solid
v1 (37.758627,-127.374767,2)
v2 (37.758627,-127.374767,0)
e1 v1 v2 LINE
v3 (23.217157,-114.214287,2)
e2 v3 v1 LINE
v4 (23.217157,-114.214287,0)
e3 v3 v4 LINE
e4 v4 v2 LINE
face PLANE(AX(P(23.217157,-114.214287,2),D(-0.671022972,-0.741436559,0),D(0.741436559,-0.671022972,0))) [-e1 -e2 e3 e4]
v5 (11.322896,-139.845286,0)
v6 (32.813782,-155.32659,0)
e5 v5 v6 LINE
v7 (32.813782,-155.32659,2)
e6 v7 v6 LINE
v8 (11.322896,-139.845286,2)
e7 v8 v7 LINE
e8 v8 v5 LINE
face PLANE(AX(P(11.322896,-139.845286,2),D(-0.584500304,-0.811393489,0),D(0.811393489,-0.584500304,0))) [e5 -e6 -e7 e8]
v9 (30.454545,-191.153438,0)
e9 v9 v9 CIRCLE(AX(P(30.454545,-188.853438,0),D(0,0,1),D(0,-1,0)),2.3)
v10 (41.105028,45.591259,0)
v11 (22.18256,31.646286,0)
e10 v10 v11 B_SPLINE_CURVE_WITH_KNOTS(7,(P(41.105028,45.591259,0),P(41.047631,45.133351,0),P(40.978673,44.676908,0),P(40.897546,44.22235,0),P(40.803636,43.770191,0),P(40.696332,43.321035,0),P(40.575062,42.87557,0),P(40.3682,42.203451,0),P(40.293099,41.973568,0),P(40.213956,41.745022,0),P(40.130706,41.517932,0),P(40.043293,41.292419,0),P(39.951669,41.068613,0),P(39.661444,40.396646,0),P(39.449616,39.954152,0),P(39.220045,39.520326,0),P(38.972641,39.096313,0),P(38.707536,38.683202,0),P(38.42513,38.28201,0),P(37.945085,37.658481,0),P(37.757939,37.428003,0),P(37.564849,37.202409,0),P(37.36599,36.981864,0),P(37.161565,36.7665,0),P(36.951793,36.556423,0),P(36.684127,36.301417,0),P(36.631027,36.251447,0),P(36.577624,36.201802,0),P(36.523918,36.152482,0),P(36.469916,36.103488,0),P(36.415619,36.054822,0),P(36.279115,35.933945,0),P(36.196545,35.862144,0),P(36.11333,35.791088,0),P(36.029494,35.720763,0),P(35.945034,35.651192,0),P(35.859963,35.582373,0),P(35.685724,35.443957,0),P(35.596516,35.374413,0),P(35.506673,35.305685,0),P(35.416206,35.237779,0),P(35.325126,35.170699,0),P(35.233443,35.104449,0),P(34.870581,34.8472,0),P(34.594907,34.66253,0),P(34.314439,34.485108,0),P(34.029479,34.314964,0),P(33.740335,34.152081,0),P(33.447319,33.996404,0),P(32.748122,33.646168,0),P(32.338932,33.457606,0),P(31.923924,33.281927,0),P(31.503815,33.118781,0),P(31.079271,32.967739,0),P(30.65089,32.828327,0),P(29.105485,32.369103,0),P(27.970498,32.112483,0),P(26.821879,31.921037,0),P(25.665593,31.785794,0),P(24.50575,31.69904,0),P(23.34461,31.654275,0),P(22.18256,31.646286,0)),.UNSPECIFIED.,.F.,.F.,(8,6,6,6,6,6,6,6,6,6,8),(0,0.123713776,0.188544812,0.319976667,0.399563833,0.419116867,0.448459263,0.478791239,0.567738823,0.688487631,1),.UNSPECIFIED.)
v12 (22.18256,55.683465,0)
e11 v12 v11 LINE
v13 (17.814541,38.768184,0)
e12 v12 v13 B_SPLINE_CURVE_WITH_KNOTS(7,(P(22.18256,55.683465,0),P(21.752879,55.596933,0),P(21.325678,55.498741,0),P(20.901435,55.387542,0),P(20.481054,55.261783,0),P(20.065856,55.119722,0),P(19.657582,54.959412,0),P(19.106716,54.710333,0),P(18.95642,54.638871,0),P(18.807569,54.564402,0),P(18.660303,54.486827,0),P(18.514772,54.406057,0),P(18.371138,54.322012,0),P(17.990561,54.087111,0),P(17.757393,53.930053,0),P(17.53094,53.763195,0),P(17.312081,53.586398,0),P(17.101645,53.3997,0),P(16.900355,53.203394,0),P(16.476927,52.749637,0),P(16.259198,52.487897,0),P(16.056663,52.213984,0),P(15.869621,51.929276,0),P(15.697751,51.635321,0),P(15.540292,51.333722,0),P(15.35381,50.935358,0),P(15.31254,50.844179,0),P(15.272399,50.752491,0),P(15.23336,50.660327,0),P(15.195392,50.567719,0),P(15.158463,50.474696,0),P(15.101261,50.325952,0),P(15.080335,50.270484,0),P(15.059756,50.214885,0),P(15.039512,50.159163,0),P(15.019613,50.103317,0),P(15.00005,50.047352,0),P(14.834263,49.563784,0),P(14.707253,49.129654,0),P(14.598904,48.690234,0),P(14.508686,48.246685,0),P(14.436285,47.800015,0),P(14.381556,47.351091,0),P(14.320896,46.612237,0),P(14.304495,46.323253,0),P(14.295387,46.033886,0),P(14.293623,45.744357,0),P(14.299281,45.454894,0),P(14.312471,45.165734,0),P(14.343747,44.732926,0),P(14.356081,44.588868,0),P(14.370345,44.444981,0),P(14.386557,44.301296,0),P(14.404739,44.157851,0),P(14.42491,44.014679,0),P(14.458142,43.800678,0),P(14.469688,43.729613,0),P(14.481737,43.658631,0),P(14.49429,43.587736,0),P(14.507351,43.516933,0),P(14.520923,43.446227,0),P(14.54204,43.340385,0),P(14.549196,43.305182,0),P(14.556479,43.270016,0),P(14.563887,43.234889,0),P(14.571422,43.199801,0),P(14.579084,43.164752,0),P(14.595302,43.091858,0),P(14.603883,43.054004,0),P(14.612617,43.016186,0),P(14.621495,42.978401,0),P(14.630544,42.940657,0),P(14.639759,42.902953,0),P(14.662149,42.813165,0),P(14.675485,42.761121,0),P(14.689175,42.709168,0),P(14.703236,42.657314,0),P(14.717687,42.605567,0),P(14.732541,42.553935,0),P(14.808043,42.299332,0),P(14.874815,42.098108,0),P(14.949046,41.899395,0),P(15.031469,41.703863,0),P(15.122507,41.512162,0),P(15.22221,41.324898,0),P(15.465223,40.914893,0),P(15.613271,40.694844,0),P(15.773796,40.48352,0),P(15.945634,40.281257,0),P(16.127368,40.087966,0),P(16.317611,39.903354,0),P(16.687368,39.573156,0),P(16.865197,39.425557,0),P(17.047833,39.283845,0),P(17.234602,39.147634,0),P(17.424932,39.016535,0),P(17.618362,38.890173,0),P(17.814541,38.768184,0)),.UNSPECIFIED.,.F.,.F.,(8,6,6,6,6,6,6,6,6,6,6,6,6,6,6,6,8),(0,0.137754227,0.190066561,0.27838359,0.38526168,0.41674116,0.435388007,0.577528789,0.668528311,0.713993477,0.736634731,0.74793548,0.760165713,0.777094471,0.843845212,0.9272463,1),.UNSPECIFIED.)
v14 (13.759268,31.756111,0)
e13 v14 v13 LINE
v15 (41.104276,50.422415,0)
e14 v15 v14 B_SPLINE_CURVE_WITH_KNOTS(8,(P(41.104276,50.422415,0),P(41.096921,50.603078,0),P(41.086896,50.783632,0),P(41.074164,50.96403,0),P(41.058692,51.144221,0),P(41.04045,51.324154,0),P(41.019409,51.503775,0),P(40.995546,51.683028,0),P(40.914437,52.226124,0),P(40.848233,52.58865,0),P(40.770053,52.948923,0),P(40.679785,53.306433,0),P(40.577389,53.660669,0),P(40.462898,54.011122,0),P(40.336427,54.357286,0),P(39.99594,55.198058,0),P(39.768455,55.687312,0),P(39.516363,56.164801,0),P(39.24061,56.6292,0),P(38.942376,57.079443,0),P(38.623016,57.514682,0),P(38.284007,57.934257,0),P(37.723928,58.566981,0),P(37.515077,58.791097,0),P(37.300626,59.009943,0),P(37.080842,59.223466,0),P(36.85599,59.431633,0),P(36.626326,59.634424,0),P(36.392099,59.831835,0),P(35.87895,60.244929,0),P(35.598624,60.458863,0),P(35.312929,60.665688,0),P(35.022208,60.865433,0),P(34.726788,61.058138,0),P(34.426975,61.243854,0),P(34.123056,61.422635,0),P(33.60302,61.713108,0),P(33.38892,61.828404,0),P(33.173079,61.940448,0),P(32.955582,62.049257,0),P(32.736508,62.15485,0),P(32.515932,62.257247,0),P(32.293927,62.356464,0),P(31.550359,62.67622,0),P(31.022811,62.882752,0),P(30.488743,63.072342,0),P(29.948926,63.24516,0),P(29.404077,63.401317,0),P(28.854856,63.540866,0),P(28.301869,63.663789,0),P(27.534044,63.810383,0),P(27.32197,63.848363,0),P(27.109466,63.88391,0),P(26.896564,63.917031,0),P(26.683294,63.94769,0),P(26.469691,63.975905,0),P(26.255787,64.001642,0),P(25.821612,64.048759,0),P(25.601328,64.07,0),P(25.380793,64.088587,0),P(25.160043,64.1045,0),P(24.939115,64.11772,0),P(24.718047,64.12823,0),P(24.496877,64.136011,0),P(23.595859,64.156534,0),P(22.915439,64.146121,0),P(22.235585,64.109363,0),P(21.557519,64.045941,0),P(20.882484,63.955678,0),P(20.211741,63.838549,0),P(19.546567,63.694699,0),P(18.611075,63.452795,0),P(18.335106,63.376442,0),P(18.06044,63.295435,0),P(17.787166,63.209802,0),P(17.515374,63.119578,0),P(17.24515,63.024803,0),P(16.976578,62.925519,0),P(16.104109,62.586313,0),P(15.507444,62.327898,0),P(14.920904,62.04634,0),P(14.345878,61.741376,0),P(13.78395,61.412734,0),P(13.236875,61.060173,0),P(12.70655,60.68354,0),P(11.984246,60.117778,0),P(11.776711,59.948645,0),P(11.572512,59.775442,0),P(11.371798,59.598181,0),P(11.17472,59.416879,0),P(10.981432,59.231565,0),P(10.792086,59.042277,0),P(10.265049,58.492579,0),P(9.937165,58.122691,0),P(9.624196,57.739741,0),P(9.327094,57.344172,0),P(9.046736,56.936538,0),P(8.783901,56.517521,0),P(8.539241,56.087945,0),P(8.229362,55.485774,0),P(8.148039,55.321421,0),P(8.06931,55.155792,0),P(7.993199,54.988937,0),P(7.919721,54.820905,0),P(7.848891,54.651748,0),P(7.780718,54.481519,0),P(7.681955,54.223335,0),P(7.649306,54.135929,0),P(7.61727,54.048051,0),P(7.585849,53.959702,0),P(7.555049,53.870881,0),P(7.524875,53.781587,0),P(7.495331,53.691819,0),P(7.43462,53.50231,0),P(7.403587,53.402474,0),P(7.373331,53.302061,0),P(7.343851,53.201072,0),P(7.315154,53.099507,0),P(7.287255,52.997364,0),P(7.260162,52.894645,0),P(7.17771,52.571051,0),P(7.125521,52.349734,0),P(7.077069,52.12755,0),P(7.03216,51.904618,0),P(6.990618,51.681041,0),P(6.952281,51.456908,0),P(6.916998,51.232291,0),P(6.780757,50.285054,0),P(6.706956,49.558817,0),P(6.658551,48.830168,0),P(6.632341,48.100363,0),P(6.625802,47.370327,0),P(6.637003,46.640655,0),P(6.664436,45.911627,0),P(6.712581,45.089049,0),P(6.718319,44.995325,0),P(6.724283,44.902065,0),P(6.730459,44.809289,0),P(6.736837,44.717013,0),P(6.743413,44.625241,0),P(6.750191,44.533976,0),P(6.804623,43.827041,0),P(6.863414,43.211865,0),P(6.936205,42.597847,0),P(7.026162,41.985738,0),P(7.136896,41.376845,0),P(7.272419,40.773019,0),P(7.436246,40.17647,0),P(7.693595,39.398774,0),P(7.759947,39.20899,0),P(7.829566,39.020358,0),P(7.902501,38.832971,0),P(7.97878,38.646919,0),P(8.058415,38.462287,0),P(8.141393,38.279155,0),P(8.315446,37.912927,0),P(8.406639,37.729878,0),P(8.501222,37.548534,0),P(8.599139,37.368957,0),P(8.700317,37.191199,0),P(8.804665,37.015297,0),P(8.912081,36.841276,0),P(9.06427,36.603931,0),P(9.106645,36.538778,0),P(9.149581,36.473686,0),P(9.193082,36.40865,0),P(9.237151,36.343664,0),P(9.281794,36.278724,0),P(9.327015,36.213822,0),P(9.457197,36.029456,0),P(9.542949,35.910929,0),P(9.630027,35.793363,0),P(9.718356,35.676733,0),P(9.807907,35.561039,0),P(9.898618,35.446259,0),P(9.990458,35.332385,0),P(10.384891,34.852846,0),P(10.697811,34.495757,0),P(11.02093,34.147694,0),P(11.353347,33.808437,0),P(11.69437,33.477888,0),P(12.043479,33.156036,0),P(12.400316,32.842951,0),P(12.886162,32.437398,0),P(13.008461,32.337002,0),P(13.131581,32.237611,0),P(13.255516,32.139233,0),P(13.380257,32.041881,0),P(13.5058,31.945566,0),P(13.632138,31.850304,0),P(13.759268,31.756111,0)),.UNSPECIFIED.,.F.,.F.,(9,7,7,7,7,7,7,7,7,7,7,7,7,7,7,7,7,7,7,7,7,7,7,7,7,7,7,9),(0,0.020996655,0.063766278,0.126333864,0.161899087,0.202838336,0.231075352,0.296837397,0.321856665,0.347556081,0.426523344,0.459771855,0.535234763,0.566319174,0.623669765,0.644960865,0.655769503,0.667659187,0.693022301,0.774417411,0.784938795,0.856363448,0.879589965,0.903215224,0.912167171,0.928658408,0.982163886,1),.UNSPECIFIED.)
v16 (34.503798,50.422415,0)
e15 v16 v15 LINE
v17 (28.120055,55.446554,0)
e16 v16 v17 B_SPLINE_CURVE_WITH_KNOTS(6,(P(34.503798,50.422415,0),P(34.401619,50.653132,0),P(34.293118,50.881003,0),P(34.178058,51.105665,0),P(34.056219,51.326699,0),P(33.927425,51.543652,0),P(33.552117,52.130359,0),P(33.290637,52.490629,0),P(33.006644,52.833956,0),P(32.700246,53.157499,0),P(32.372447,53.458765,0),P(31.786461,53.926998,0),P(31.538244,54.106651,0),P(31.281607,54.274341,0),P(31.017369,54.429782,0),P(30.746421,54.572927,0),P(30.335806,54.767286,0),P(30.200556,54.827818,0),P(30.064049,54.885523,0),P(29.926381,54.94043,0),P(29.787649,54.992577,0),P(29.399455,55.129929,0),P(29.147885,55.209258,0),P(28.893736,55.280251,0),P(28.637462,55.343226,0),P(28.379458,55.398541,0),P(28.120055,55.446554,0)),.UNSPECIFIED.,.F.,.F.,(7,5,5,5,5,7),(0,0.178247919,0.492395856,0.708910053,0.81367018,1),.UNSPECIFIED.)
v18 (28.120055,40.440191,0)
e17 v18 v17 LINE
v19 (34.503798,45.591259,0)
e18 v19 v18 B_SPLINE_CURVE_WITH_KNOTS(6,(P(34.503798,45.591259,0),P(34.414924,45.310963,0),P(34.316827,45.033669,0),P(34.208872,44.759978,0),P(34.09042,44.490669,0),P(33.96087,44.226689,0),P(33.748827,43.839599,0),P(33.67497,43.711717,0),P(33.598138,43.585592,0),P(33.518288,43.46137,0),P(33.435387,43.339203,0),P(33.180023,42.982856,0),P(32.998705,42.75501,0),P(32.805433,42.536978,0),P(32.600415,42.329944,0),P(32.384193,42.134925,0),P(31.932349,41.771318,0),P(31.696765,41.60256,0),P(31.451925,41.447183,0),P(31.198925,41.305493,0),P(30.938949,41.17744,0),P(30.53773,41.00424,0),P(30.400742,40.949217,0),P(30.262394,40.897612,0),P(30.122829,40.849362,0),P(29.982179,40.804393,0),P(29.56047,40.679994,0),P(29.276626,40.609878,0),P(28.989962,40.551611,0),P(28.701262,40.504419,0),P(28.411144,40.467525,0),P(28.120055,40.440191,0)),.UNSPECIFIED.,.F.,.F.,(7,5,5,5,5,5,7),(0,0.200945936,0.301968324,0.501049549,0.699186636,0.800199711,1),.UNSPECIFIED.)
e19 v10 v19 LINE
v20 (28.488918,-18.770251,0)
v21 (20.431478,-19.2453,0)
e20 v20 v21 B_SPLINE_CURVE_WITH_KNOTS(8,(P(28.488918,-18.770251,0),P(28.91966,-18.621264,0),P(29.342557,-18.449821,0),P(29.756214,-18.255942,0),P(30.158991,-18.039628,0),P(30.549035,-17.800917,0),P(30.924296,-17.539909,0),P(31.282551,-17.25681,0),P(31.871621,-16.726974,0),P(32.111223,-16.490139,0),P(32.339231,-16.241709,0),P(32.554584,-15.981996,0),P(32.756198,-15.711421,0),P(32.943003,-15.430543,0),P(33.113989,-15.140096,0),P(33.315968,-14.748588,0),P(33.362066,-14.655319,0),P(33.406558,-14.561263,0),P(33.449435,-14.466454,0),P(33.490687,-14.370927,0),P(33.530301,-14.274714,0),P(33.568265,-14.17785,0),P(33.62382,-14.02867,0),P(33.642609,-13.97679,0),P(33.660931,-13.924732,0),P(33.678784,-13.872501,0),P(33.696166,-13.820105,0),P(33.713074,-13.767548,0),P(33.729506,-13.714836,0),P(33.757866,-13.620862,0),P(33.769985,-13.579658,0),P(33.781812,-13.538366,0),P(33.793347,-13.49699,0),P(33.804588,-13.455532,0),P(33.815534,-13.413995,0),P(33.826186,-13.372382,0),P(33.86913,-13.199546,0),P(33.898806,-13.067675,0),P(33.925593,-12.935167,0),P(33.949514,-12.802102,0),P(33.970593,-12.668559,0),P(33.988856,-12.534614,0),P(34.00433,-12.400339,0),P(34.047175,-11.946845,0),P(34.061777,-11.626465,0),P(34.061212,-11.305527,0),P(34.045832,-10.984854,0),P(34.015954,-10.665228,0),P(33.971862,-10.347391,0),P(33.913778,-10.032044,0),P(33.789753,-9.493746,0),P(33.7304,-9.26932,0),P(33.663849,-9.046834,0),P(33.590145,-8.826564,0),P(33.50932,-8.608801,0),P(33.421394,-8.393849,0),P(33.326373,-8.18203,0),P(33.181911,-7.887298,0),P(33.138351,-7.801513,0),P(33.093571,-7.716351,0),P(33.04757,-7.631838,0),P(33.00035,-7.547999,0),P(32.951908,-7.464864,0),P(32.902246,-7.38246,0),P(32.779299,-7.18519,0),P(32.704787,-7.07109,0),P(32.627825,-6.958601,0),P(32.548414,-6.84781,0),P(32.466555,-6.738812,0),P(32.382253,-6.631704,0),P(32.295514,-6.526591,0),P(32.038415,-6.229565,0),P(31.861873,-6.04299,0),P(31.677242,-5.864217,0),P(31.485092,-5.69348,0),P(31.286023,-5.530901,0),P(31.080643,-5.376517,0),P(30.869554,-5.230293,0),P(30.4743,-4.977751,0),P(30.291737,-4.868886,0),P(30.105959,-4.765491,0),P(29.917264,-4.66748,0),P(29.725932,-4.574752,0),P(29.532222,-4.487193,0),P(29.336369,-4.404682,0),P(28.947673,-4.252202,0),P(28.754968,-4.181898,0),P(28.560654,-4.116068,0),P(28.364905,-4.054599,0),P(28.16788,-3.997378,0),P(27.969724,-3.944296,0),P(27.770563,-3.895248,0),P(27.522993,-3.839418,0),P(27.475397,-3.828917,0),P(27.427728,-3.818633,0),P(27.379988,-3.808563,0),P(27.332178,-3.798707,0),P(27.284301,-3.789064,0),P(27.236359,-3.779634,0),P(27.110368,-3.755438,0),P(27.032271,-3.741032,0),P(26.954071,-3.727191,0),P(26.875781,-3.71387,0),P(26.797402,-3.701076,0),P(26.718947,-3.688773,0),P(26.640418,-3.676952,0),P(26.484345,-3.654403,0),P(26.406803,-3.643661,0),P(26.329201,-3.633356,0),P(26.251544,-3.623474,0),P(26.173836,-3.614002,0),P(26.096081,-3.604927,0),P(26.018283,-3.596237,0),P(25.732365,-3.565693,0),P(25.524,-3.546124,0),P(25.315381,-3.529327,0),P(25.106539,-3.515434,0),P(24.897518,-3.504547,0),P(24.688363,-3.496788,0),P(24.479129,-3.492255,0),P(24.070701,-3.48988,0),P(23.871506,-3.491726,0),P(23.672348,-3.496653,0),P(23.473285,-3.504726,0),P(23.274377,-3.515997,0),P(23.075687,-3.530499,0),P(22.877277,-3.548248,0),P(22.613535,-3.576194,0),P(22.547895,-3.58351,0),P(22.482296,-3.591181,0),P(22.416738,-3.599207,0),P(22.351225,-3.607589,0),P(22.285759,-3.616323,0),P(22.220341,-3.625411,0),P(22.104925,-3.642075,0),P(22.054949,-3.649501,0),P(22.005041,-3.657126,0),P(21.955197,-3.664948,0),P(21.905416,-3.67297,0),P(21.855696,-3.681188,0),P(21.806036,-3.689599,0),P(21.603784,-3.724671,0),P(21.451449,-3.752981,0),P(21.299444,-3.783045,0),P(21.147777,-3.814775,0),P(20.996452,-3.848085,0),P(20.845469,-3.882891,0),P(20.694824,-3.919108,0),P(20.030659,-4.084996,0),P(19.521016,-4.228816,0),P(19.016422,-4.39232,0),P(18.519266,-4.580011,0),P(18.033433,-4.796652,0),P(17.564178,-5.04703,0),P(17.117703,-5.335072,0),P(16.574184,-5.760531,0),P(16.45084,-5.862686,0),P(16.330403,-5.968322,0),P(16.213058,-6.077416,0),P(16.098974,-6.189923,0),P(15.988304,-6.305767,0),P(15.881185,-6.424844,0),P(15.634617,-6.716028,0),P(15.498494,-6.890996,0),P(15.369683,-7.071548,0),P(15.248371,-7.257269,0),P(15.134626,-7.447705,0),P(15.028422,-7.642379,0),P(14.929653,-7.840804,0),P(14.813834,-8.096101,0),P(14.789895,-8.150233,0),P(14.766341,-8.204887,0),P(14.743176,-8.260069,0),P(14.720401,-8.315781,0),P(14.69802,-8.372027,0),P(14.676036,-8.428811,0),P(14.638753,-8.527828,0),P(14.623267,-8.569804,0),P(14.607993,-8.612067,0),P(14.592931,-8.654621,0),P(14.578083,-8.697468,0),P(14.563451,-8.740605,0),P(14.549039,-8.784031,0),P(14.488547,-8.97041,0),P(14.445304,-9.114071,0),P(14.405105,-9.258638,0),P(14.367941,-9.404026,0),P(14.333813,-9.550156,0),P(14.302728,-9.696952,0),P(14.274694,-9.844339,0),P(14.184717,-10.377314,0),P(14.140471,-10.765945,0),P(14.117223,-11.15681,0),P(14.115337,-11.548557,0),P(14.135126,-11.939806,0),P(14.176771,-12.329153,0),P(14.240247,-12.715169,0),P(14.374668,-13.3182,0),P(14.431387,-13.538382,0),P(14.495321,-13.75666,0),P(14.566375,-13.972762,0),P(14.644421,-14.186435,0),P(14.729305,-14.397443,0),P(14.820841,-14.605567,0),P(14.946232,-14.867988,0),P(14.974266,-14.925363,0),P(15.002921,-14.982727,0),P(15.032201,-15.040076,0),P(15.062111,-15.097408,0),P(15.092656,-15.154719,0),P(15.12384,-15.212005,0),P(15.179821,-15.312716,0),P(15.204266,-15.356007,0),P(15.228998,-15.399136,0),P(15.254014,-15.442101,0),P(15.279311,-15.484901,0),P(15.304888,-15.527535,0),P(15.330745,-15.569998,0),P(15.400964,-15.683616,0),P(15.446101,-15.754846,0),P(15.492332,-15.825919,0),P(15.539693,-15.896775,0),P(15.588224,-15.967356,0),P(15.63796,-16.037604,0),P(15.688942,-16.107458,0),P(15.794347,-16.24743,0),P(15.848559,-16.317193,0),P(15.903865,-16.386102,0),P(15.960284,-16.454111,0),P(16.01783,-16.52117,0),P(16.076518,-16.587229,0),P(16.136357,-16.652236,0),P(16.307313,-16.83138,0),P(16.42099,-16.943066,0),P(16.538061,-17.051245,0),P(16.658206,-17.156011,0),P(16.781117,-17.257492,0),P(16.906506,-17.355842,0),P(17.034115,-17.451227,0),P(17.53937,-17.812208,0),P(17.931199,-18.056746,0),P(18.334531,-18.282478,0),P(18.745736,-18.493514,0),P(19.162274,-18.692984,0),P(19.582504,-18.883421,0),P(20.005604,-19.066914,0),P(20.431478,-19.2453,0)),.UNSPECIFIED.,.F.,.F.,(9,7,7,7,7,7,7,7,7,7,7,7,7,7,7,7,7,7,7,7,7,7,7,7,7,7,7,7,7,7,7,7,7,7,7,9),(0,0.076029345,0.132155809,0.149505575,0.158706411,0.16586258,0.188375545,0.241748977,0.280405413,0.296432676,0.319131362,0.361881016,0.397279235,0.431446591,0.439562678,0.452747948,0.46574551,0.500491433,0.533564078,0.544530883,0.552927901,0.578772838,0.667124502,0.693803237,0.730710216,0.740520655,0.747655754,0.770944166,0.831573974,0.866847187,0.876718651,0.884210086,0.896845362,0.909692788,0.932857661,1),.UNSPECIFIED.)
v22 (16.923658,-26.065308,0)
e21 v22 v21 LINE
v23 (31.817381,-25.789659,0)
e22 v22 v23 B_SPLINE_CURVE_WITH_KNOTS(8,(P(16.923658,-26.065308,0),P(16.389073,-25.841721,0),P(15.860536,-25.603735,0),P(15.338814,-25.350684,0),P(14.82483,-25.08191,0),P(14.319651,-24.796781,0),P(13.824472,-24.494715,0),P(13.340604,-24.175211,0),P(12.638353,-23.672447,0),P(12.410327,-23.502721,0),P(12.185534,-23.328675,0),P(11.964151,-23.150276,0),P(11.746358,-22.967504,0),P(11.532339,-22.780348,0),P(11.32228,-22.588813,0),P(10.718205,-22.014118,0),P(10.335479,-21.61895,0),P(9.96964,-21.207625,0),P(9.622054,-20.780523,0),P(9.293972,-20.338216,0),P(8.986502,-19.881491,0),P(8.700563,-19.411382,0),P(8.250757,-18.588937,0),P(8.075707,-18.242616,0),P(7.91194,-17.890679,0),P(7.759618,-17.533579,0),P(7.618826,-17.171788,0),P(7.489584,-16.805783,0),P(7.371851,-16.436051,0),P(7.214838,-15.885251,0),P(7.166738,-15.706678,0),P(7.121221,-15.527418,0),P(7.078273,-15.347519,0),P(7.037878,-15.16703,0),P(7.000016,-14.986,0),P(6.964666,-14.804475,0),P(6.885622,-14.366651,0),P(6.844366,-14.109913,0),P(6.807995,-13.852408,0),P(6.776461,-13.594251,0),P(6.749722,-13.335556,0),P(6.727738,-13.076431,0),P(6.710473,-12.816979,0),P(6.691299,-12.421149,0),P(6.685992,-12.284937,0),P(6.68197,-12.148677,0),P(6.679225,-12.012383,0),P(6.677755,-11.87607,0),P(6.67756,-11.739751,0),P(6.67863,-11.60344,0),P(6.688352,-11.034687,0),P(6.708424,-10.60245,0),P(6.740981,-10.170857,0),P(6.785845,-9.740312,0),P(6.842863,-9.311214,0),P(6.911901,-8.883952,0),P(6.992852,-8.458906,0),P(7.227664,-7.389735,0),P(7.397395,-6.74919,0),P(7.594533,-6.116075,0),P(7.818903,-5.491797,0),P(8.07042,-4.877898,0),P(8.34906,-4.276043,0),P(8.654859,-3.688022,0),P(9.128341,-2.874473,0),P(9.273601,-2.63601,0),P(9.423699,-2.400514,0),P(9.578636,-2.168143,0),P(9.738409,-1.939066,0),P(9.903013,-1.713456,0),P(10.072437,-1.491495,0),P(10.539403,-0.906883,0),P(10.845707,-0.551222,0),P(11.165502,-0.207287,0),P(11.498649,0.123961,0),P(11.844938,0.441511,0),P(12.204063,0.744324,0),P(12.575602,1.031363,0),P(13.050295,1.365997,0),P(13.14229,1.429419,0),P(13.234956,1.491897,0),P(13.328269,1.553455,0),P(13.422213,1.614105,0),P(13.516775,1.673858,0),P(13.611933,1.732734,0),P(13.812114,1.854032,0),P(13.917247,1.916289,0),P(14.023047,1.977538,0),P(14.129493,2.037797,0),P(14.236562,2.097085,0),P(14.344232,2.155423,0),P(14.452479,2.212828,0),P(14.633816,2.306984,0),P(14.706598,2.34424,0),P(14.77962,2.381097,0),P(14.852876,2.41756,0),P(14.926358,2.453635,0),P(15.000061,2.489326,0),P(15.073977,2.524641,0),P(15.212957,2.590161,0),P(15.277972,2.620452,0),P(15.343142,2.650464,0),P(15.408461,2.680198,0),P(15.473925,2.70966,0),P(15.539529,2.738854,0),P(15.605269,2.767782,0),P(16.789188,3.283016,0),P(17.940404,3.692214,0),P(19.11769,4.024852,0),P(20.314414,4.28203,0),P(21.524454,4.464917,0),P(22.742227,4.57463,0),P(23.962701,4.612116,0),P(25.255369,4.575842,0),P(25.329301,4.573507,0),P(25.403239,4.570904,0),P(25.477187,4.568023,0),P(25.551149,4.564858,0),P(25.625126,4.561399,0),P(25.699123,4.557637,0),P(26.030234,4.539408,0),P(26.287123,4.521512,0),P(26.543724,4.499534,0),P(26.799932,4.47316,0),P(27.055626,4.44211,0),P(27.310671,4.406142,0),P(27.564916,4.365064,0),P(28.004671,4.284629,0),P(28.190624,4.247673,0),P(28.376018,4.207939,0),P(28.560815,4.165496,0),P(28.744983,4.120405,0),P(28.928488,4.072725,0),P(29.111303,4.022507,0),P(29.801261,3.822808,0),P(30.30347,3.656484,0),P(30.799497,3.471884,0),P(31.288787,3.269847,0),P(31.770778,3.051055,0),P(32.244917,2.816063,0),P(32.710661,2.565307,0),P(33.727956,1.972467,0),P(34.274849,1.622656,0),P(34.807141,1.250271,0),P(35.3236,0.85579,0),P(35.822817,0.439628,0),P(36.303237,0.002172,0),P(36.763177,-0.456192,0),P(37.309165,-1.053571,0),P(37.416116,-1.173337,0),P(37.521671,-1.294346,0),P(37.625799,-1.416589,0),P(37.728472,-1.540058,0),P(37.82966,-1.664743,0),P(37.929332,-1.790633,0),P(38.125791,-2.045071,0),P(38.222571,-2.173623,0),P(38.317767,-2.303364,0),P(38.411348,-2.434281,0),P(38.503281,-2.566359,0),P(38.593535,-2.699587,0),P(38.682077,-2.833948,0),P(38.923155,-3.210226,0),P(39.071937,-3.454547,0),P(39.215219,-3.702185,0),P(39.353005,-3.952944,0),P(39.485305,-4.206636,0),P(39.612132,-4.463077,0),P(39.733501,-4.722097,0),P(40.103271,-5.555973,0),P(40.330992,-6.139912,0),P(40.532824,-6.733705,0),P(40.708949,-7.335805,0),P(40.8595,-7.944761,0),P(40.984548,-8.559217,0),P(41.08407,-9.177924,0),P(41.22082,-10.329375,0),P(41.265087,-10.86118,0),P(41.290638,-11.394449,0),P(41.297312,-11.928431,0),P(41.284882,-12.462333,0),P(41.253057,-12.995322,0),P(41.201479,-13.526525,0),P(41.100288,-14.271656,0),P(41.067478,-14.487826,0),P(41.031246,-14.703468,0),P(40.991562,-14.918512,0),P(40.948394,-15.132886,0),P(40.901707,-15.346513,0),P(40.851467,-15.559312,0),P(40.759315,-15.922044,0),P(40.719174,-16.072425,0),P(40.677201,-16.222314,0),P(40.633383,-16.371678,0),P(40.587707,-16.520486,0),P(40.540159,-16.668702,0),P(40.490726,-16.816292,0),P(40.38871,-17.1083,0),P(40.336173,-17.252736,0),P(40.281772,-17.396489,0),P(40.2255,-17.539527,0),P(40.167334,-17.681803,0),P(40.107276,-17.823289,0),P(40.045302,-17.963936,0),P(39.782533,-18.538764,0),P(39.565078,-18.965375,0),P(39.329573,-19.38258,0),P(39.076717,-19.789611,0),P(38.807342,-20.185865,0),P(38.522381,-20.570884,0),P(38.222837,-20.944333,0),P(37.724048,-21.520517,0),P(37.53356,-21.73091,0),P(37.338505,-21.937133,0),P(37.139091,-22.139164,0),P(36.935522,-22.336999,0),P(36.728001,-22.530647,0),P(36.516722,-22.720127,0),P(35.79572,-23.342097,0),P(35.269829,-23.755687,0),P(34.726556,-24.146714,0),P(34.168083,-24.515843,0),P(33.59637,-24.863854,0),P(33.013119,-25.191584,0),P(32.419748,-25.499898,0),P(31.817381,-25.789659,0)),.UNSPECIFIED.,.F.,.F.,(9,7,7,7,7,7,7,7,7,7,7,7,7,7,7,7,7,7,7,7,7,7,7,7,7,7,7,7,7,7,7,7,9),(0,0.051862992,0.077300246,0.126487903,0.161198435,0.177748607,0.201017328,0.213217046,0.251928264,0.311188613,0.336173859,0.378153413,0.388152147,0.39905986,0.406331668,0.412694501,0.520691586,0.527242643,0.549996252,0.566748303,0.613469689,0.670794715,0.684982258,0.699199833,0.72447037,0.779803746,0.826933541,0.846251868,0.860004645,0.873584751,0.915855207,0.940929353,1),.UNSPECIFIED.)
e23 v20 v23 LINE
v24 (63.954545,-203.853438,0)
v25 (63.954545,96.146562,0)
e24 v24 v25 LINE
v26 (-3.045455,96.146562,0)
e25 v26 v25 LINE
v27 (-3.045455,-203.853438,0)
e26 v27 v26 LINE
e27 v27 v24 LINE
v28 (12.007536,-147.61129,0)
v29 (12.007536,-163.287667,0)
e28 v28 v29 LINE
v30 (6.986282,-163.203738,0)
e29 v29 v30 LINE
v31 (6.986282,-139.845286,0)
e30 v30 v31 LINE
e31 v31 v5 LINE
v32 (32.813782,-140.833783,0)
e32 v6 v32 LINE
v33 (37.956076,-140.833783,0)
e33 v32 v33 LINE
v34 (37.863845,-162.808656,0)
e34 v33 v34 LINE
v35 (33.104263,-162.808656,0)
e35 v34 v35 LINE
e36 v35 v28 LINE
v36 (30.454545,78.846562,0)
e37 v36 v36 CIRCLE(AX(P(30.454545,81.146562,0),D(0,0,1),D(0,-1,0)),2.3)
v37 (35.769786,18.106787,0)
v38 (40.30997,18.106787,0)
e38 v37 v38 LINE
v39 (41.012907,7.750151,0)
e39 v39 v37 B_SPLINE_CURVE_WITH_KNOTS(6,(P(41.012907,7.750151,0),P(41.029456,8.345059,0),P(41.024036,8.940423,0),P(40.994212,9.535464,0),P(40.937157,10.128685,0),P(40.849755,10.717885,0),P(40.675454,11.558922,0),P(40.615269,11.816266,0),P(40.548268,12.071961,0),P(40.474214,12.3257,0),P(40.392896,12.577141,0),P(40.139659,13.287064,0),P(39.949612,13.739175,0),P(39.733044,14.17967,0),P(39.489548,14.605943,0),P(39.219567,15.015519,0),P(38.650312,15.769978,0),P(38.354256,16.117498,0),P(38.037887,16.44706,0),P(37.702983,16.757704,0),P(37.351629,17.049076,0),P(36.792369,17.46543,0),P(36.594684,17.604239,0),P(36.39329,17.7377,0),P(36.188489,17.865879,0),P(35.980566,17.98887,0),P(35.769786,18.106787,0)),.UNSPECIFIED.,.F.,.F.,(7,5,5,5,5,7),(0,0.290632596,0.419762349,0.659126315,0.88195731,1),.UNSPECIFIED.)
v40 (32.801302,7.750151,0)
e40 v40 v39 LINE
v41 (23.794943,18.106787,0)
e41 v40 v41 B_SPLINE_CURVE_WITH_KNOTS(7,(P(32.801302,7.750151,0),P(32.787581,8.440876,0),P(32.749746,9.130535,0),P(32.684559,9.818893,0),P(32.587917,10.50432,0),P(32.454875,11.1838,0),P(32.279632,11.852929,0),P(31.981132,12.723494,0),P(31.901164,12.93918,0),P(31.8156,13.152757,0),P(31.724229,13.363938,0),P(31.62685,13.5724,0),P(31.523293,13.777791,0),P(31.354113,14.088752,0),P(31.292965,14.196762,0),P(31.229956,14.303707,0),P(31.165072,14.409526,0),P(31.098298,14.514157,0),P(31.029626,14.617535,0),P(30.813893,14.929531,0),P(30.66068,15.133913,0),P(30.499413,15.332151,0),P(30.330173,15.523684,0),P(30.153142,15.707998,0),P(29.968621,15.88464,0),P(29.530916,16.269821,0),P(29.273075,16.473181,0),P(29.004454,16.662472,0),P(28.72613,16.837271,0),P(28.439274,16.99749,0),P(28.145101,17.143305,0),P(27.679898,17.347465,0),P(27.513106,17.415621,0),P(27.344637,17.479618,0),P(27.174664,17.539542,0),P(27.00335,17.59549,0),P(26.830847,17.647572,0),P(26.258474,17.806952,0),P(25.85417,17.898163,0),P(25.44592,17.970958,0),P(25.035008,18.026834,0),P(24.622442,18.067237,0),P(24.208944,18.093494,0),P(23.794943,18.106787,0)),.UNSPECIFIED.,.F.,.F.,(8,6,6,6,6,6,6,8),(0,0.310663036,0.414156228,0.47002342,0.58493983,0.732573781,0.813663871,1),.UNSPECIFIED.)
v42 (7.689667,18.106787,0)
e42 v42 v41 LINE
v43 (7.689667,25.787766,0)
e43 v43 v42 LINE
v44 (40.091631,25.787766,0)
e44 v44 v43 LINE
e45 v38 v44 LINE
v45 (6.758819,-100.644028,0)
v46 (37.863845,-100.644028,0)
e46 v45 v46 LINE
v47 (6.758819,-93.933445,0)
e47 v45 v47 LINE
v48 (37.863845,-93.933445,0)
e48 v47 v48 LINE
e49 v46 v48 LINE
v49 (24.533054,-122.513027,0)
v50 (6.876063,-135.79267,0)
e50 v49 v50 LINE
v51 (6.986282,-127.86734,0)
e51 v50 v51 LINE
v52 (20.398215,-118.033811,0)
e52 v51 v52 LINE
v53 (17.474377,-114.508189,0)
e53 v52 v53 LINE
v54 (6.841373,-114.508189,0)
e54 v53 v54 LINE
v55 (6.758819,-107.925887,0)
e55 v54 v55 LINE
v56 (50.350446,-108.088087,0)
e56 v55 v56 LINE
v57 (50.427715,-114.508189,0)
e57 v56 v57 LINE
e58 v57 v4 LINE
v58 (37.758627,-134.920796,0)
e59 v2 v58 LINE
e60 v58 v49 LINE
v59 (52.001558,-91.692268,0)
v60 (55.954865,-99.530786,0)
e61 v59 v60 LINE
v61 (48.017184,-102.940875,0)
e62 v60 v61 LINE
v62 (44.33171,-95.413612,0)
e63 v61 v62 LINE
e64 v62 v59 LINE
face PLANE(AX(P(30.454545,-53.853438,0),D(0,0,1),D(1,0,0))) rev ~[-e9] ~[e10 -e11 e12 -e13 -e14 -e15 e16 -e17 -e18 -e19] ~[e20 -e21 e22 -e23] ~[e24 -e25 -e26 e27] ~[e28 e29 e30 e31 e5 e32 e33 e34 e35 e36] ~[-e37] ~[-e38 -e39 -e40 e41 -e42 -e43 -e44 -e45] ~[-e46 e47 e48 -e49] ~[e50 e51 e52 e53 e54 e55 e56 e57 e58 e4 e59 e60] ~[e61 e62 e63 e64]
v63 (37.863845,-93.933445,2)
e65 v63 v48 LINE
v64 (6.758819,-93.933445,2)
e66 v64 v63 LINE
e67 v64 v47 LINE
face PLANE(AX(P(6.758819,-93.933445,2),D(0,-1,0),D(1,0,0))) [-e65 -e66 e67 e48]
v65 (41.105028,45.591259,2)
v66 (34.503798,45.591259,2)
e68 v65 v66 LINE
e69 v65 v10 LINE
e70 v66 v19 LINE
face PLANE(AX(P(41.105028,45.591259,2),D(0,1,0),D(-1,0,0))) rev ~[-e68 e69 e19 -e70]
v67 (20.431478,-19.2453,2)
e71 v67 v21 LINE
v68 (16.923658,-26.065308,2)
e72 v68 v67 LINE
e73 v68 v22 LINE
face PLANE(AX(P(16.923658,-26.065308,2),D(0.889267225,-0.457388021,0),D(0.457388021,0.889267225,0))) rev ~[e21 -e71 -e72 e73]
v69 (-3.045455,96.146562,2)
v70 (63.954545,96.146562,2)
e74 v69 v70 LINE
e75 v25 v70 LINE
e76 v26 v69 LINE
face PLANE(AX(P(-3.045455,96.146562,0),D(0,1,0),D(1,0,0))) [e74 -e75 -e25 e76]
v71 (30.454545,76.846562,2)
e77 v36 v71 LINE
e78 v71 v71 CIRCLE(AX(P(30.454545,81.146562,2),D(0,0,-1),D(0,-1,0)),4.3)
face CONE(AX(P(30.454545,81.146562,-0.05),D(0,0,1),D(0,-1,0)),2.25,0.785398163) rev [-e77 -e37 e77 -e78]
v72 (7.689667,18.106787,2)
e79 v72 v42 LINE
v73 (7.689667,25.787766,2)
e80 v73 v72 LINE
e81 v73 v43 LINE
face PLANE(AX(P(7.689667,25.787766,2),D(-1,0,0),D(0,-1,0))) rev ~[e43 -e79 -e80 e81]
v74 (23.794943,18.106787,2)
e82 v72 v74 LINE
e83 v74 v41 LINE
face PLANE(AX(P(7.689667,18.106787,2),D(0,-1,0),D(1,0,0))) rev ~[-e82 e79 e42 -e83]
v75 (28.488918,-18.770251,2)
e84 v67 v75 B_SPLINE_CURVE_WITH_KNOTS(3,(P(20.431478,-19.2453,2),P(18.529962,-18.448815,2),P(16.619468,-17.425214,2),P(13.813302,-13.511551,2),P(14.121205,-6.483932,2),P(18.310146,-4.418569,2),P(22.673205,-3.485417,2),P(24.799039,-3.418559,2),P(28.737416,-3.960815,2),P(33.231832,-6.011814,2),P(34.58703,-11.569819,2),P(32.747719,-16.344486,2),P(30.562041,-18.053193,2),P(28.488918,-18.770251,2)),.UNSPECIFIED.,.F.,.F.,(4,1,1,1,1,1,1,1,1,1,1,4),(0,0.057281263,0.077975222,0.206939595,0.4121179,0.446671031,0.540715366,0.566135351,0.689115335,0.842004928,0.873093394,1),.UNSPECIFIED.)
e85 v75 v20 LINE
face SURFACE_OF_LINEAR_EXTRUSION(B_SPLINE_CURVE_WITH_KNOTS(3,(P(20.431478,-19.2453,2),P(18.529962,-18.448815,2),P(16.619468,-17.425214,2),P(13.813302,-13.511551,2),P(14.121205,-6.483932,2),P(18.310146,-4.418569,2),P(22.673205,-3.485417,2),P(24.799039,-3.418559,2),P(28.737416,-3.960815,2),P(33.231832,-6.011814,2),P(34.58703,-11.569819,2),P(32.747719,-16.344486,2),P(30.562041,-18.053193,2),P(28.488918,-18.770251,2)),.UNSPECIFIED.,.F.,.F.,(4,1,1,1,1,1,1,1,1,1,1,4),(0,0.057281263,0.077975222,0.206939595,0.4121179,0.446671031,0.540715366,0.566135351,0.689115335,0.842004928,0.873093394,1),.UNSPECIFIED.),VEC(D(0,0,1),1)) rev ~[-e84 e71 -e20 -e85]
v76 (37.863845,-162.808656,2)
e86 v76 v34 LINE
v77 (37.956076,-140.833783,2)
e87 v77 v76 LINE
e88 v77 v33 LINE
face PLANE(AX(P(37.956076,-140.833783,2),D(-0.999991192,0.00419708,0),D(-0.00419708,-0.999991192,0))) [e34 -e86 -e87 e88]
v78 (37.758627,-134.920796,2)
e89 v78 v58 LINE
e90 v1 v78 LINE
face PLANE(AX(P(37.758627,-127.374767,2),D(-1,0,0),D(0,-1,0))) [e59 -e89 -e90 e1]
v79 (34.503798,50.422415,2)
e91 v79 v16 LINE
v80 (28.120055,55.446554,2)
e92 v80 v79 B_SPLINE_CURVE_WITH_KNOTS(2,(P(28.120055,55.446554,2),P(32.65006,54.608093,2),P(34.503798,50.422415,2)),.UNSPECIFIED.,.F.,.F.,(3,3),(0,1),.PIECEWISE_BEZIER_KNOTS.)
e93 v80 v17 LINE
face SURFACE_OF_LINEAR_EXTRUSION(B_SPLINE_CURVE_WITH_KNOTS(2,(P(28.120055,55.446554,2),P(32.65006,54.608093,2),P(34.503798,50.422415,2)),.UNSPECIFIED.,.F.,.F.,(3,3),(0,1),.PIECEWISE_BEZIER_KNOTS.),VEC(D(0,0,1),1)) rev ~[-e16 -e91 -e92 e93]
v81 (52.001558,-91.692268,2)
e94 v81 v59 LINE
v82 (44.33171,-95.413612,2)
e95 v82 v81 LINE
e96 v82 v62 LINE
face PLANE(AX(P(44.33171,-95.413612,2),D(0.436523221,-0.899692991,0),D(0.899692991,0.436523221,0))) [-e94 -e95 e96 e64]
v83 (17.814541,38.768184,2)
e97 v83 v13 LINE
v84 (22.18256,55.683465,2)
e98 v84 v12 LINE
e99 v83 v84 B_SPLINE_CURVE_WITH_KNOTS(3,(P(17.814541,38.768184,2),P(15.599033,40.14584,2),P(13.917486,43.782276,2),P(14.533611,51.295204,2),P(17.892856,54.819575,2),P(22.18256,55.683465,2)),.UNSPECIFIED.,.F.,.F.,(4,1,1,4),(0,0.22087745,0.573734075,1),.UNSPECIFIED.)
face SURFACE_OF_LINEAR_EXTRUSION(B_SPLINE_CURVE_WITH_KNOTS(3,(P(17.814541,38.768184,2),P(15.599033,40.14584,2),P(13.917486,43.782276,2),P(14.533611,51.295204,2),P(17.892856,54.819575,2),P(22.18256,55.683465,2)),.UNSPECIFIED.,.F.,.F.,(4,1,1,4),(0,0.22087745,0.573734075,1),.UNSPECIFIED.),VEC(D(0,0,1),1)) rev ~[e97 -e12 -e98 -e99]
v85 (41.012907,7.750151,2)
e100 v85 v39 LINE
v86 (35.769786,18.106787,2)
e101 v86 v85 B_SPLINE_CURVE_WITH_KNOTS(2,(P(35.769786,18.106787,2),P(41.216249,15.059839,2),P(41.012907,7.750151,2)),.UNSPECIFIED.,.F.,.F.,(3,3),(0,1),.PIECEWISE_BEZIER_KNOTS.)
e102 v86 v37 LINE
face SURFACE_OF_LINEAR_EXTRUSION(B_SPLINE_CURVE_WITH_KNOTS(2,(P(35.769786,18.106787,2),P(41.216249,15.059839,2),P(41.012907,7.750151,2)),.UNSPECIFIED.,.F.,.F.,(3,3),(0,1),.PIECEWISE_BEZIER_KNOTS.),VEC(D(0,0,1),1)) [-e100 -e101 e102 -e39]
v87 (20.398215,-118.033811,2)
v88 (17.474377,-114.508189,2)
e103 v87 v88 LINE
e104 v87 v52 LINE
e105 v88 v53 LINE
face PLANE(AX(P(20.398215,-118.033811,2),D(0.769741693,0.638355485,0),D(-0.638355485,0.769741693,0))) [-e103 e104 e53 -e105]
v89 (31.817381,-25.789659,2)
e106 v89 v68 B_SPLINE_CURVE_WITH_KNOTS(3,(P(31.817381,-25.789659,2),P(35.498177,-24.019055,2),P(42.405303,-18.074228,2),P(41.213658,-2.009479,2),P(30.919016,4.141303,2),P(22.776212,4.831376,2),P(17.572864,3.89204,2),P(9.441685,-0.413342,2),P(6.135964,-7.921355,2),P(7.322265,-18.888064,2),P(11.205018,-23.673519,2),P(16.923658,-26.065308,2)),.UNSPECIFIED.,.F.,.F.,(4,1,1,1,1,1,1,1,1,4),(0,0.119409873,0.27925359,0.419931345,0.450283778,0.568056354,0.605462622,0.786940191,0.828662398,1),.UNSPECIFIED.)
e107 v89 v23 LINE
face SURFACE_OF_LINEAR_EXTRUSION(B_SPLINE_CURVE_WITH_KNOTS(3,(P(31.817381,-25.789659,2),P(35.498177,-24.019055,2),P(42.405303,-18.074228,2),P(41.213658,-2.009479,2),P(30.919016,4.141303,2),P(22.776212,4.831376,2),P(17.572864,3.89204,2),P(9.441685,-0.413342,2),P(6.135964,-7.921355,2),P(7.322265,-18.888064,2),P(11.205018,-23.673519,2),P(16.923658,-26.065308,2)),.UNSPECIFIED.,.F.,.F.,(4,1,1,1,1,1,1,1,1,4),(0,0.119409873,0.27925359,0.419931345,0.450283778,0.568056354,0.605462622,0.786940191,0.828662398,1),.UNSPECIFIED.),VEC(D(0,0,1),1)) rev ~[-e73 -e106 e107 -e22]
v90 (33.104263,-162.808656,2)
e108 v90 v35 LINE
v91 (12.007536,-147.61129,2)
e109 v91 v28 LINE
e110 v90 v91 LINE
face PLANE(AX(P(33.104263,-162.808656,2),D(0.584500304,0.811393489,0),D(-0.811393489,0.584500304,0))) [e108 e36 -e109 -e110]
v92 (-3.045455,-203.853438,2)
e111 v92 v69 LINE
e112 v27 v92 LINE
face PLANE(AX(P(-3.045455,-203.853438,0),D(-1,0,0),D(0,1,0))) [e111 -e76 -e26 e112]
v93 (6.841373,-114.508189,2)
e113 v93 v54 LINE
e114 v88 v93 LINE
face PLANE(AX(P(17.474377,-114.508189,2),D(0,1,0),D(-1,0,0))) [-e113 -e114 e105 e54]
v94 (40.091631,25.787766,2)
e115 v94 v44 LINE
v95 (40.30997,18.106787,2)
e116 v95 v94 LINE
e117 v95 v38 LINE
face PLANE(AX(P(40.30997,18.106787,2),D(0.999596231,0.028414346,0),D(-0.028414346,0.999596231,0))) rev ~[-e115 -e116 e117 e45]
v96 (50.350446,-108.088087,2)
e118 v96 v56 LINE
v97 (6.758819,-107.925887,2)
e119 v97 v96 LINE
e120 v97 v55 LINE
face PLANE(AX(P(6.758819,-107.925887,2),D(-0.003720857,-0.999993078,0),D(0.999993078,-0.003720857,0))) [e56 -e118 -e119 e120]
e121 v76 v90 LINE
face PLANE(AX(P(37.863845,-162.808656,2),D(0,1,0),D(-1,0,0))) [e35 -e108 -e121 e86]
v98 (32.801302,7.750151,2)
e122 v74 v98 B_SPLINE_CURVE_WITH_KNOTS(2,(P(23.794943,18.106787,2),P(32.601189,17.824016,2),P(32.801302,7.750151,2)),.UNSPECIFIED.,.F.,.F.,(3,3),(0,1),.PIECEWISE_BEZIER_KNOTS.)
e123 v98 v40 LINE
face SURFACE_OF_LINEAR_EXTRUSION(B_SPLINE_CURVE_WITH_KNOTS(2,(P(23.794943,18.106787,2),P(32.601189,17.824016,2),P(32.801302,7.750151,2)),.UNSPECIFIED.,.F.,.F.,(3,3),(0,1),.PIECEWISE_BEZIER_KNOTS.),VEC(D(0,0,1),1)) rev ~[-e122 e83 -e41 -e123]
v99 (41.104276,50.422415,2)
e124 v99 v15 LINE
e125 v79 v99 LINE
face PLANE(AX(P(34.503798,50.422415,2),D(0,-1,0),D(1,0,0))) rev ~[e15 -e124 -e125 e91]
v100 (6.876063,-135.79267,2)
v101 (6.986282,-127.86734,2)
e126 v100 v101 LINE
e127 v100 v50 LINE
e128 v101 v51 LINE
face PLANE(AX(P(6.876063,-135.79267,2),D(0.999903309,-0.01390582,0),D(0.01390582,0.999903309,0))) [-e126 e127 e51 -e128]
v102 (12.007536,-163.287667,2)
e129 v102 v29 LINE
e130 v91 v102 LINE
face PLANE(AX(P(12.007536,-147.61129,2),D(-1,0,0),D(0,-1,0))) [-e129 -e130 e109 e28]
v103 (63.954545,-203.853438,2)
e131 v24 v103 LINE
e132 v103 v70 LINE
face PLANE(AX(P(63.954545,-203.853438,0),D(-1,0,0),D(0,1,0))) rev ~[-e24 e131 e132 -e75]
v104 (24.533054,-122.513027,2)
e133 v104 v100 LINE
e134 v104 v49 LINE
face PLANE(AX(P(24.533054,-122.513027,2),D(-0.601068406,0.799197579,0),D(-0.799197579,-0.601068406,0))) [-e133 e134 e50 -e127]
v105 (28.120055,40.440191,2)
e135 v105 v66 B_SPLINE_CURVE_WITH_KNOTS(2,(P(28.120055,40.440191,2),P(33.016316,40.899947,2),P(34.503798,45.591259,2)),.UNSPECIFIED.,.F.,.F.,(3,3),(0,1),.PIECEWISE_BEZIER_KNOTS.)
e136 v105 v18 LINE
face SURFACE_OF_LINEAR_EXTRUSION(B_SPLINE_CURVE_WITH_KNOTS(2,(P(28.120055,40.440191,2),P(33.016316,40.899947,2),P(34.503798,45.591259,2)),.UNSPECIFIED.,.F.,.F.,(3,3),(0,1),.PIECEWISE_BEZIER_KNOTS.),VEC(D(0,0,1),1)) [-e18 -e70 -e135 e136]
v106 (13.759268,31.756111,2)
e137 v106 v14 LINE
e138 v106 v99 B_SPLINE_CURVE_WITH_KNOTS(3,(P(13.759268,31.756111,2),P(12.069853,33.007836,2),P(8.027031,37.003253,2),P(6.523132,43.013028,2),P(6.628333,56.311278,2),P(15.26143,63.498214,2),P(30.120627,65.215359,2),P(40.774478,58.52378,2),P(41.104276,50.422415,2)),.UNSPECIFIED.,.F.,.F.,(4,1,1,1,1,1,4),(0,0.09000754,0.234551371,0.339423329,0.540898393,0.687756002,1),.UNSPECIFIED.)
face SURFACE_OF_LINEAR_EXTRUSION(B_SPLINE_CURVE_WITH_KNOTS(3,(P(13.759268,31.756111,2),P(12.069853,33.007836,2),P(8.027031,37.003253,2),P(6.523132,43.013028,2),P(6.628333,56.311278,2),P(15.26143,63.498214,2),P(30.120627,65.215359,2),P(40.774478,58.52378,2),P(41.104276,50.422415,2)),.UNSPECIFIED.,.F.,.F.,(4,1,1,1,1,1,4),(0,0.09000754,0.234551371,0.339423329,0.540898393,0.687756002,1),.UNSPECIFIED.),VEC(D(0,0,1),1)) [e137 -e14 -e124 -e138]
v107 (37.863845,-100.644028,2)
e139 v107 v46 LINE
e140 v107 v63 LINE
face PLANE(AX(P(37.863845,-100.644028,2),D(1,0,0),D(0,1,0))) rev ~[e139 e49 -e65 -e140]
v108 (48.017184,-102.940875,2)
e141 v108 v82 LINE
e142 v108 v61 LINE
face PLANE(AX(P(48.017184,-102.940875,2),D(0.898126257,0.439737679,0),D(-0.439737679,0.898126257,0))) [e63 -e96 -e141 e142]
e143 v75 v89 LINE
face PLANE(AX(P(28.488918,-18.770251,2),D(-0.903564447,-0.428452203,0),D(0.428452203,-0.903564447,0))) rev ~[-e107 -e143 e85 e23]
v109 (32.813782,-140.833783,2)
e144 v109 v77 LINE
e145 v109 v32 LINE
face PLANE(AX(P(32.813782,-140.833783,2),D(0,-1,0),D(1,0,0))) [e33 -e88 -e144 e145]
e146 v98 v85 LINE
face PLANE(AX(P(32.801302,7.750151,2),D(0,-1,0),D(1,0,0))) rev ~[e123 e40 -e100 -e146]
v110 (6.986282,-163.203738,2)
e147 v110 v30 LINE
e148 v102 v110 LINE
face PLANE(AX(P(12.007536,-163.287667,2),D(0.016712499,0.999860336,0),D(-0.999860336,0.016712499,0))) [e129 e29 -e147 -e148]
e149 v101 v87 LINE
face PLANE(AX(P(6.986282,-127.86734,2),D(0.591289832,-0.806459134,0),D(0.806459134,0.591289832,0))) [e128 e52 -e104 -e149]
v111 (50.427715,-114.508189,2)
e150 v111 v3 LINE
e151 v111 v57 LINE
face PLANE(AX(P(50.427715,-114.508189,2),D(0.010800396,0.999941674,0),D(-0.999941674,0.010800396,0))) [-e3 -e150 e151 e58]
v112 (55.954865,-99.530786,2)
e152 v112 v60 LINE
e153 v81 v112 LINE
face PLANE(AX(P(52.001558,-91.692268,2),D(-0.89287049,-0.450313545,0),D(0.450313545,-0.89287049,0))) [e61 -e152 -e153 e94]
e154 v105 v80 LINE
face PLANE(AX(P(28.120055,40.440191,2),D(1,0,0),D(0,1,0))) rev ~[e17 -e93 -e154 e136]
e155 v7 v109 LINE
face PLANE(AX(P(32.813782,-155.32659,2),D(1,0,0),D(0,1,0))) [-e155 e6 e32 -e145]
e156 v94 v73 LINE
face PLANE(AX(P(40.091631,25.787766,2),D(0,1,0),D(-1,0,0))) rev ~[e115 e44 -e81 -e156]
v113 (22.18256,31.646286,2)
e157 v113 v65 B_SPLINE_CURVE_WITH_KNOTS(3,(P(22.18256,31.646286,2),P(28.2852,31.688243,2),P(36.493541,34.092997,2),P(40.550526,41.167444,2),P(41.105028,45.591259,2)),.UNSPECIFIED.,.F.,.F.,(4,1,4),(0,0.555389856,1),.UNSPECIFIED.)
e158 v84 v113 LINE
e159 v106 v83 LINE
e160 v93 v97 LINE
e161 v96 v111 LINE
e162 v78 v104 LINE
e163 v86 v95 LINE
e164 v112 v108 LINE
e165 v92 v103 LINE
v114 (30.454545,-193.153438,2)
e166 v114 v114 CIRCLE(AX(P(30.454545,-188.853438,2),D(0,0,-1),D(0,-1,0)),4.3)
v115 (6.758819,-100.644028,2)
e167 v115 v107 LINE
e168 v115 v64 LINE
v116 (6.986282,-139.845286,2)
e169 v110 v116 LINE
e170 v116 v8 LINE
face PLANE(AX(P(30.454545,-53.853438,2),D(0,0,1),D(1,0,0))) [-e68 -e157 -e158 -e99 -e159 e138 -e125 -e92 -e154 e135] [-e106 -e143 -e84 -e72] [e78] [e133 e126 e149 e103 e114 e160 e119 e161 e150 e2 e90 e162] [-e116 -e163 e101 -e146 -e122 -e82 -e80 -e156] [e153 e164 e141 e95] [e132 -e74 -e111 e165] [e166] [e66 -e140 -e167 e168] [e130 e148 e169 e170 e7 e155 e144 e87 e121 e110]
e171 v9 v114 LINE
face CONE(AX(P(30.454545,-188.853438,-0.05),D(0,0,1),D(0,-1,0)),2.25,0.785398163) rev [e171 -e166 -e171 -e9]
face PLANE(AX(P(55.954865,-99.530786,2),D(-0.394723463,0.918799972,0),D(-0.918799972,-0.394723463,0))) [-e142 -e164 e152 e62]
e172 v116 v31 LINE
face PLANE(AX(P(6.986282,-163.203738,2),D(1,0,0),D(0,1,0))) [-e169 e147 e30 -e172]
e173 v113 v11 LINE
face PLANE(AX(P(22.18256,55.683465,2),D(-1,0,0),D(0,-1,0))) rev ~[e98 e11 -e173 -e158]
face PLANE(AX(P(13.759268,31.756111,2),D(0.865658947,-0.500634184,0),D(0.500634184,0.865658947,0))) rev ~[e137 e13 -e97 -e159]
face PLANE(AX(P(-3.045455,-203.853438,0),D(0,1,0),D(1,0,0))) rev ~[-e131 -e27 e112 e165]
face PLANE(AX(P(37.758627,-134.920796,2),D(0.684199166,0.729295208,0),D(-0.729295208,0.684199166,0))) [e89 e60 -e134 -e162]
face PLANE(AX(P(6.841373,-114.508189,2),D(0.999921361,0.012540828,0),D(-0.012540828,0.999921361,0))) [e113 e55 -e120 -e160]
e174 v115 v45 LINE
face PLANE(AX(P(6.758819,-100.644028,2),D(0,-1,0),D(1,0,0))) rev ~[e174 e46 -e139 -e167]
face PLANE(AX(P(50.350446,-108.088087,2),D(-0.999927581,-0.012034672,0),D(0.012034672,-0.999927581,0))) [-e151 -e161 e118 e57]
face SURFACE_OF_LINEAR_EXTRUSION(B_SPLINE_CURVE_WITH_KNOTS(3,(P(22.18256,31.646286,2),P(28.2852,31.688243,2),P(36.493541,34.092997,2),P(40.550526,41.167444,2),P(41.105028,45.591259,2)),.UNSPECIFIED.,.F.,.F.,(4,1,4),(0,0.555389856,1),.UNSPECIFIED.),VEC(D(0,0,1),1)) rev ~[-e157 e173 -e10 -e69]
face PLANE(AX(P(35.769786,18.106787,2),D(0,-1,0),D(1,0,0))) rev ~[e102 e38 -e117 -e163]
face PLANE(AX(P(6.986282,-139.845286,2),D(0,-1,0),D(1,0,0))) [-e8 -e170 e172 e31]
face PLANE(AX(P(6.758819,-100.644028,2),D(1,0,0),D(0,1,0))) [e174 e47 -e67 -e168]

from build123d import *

# Parameters (mm, degrees)
SKIZZE2_W                                   = 67
SKIZZE2_H                                   = 300
AUFSATZ_LINEAR_AUSTRAGEN1_DEPTH             = 2
FORMSENKUNG_F_R_M4_SENKSCHRAUBE_MIT_2_COUNT = 2
FORMSENKUNG_F_R_M4_SENKSCHRAUBE_MIT_2_PITCH = 270
SKIZZE9_W                                   = 31.10502621
SKIZZE9_H                                   = 6.710582317
SCHNITT_LINEAR_AUSTRAGEN5_DEPTH             = 10


with BuildPart() as part:
    # Skizze2 → Aufsatz-Linear austragen1 (new body)
    with BuildSketch(Plane.XY):
        with Locations((30.454545455, -53.853438228)):
            Rectangle(SKIZZE2_W, SKIZZE2_H)
    extrude(amount=AUFSATZ_LINEAR_AUSTRAGEN1_DEPTH)

    # Skizze4 → Formsenkung für M4 Senkschraube mit Innensechskant1 (revolve, cut)
    with BuildSketch(Plane(origin=(30.454545455, 81.146561772, 2), x_dir=(0, -1, 0), z_dir=(1, 0, 0))):
        Polygon((0, 0), (0, 2), (2.25, 2), (2.25, 2.05), (4.3, 0), align=None)
    formsenkung_f_r_m4_senkschraube_mit_inne = revolve(axis=Axis((30.454545455, 81.146561772, 8.35), (0, 0, -1)), mode=Mode.SUBTRACT)

    # Formsenkung f_r M4 Senkschraube mit  2: Formsenkung für M4 Senkschraube mit Innensechskant1 ×2
    with Locations(*[(0, -i * FORMSENKUNG_F_R_M4_SENKSCHRAUBE_MIT_2_PITCH, 0) for i in range(1, FORMSENKUNG_F_R_M4_SENKSCHRAUBE_MIT_2_COUNT)]):
        add(formsenkung_f_r_m4_senkschraube_mit_inne, mode=Mode.SUBTRACT)

    # Skizze9 → Schnitt-Linear austragen5 (cut)
    with BuildSketch(Plane.XY.offset(2)):
        Polygon((52.001558097, -91.692267967), (55.954864906, -99.53078632), (48.017183689, -102.940874601), (44.331709582, -95.41361182), align=None)
        with Locations((22.311332276, -97.288736457)):
            Rectangle(SKIZZE9_W, SKIZZE9_H)
        Polygon((6.758819171, -107.925887397), (50.350445865, -108.08808674), (50.427715289, -114.508189206), (23.217156686, -114.214287256), (37.758627479, -127.374767162), (37.758627479, -134.920795826), (24.5330538, -122.513026823), (6.876063428, -135.792670476), (6.986282299, -127.867340204), (20.398215233, -118.033810853), (17.474377356, -114.508189206), (6.841373177, -114.508189206), align=None)
        Polygon((32.81378197, -140.833783467), (37.956076493, -140.833783467), (37.863845381, -162.808656047), (33.104263457, -162.808656047), (12.007535601, -147.611290016), (12.007535601, -163.287666955), (6.986282299, -163.203737544), (6.986282299, -139.845285888), (11.322896284, -139.845285888), (32.81378197, -155.326589829), align=None)
        with BuildLine():
            Line((7.689666718, 25.787766367), (7.689666718, 18.106787224))
            Line((7.689666718, 18.106787224), (23.794942522, 18.106787224))
            add(Edge.make_bspline(
                [(23.794942522, 18.106787224), (32.601188558, 17.824016107), (32.801302406, 7.750150648)],
                knots=[0, 0, 0, 1, 1, 1], degree=2))
            Line((32.801302406, 7.750150648), (41.012907208, 7.750150648))
            add(Edge.make_bspline(
                [(35.769786279, 18.106787224), (41.216248983, 15.059838558), (41.012907208, 7.750150648)],
                knots=[0, 0, 0, 1, 1, 1], degree=2))
            Line((35.769786279, 18.106787224), (40.309969546, 18.106787224))
            Line((40.309969546, 18.106787224), (40.091631389, 25.787766367))
            Line((40.091631389, 25.787766367), (7.689666718, 25.787766367))
        make_face()
        with BuildLine():
            Line((28.488917876, -18.770250647), (31.817381195, -25.78965933))
            add(Edge.make_bspline(
                [(31.817381195, -25.78965933), (35.498176655, -24.019055478), (42.40530325, -18.074227702), (41.213657778, -2.009478612), (30.919016285, 4.141303213), (22.776211659, 4.831375661), (17.572864113, 3.89204048), (9.441685379, -0.413341636), (6.135963941, -7.921355494), (7.32226522, -18.888063748), (11.205018419, -23.673518651), (16.923657697, -26.06530754)],
                knots=[0, 0, 0, 0, 0.119409873, 0.27925359, 0.419931345, 0.450283778, 0.568056354, 0.605462622, 0.786940191, 0.828662398, 1, 1, 1, 1], degree=3))
            Line((16.923657697, -26.06530754), (20.431478316, -19.245299659))
            add(Edge.make_bspline(
                [(20.431478316, -19.245299659), (18.529961715, -18.448815365), (16.619467923, -17.425214119), (13.813302006, -13.511550753), (14.121204554, -6.483932431), (18.310146069, -4.418568869), (22.673204949, -3.485417269), (24.799039205, -3.418559428), (28.73741634, -3.960815369), (33.231832404, -6.011813728), (34.58703032, -11.56981876), (32.747718821, -16.344485846), (30.562040823, -18.053193176), (28.488917876, -18.770250647)],
                knots=[0, 0, 0, 0, 0.057281263, 0.077975222, 0.206939595, 0.4121179, 0.446671031, 0.540715366, 0.566135351, 0.689115335, 0.842004928, 0.873093394, 1, 1, 1, 1], degree=3))
        make_face()
        with BuildLine():
            Line((22.182559591, 55.683464558), (22.182559591, 31.646286217))
            add(Edge.make_bspline(
                [(22.182559591, 31.646286217), (28.285199554, 31.688242642), (36.493541258, 34.092996652), (40.550526158, 41.167443579), (41.105027709, 45.591258556)],
                knots=[0, 0, 0, 0, 0.555389856, 1, 1, 1, 1], degree=3))
            Line((41.105027709, 45.591258556), (34.50379781, 45.591258556))
            add(Edge.make_bspline(
                [(28.120055334, 40.440191437), (33.016316255, 40.899947408), (34.50379781, 45.591258556)],
                knots=[0, 0, 0, 1, 1, 1], degree=2))
            Line((28.120055334, 40.440191437), (28.120055334, 55.446553709))
            add(Edge.make_bspline(
                [(28.120055334, 55.446553709), (32.650059687, 54.608093435), (34.50379781, 50.422414638)],
                knots=[0, 0, 0, 1, 1, 1], degree=2))
            Line((34.50379781, 50.422414638), (41.104275737, 50.422414638))
            add(Edge.make_bspline(
                [(13.75926765, 31.756110501), (12.069853486, 33.007836098), (8.027031384, 37.003253409), (6.523132286, 43.013028309), (6.628333317, 56.311278281), (15.261430342, 63.498214031), (30.12062724, 65.215358583), (40.774477596, 58.523780449), (41.104275737, 50.422414638)],
                knots=[0, 0, 0, 0, 0.09000754, 0.234551371, 0.339423329, 0.540898393, 0.687756002, 1, 1, 1, 1], degree=3))
            Line((13.75926765, 31.756110501), (17.814541142, 38.76818417))
            add(Edge.make_bspline(
                [(17.814541142, 38.76818417), (15.599033207, 40.145840228), (13.917486025, 43.782276328), (14.533611479, 51.295203557), (17.892855837, 54.819575464), (22.182559591, 55.683464558)],
                knots=[0, 0, 0, 0, 0.22087745, 0.573734075, 1, 1, 1, 1], degree=3))
        make_face()
    extrude(amount=-SCHNITT_LINEAR_AUSTRAGEN5_DEPTH, mode=Mode.SUBTRACT)


solid = part.part
